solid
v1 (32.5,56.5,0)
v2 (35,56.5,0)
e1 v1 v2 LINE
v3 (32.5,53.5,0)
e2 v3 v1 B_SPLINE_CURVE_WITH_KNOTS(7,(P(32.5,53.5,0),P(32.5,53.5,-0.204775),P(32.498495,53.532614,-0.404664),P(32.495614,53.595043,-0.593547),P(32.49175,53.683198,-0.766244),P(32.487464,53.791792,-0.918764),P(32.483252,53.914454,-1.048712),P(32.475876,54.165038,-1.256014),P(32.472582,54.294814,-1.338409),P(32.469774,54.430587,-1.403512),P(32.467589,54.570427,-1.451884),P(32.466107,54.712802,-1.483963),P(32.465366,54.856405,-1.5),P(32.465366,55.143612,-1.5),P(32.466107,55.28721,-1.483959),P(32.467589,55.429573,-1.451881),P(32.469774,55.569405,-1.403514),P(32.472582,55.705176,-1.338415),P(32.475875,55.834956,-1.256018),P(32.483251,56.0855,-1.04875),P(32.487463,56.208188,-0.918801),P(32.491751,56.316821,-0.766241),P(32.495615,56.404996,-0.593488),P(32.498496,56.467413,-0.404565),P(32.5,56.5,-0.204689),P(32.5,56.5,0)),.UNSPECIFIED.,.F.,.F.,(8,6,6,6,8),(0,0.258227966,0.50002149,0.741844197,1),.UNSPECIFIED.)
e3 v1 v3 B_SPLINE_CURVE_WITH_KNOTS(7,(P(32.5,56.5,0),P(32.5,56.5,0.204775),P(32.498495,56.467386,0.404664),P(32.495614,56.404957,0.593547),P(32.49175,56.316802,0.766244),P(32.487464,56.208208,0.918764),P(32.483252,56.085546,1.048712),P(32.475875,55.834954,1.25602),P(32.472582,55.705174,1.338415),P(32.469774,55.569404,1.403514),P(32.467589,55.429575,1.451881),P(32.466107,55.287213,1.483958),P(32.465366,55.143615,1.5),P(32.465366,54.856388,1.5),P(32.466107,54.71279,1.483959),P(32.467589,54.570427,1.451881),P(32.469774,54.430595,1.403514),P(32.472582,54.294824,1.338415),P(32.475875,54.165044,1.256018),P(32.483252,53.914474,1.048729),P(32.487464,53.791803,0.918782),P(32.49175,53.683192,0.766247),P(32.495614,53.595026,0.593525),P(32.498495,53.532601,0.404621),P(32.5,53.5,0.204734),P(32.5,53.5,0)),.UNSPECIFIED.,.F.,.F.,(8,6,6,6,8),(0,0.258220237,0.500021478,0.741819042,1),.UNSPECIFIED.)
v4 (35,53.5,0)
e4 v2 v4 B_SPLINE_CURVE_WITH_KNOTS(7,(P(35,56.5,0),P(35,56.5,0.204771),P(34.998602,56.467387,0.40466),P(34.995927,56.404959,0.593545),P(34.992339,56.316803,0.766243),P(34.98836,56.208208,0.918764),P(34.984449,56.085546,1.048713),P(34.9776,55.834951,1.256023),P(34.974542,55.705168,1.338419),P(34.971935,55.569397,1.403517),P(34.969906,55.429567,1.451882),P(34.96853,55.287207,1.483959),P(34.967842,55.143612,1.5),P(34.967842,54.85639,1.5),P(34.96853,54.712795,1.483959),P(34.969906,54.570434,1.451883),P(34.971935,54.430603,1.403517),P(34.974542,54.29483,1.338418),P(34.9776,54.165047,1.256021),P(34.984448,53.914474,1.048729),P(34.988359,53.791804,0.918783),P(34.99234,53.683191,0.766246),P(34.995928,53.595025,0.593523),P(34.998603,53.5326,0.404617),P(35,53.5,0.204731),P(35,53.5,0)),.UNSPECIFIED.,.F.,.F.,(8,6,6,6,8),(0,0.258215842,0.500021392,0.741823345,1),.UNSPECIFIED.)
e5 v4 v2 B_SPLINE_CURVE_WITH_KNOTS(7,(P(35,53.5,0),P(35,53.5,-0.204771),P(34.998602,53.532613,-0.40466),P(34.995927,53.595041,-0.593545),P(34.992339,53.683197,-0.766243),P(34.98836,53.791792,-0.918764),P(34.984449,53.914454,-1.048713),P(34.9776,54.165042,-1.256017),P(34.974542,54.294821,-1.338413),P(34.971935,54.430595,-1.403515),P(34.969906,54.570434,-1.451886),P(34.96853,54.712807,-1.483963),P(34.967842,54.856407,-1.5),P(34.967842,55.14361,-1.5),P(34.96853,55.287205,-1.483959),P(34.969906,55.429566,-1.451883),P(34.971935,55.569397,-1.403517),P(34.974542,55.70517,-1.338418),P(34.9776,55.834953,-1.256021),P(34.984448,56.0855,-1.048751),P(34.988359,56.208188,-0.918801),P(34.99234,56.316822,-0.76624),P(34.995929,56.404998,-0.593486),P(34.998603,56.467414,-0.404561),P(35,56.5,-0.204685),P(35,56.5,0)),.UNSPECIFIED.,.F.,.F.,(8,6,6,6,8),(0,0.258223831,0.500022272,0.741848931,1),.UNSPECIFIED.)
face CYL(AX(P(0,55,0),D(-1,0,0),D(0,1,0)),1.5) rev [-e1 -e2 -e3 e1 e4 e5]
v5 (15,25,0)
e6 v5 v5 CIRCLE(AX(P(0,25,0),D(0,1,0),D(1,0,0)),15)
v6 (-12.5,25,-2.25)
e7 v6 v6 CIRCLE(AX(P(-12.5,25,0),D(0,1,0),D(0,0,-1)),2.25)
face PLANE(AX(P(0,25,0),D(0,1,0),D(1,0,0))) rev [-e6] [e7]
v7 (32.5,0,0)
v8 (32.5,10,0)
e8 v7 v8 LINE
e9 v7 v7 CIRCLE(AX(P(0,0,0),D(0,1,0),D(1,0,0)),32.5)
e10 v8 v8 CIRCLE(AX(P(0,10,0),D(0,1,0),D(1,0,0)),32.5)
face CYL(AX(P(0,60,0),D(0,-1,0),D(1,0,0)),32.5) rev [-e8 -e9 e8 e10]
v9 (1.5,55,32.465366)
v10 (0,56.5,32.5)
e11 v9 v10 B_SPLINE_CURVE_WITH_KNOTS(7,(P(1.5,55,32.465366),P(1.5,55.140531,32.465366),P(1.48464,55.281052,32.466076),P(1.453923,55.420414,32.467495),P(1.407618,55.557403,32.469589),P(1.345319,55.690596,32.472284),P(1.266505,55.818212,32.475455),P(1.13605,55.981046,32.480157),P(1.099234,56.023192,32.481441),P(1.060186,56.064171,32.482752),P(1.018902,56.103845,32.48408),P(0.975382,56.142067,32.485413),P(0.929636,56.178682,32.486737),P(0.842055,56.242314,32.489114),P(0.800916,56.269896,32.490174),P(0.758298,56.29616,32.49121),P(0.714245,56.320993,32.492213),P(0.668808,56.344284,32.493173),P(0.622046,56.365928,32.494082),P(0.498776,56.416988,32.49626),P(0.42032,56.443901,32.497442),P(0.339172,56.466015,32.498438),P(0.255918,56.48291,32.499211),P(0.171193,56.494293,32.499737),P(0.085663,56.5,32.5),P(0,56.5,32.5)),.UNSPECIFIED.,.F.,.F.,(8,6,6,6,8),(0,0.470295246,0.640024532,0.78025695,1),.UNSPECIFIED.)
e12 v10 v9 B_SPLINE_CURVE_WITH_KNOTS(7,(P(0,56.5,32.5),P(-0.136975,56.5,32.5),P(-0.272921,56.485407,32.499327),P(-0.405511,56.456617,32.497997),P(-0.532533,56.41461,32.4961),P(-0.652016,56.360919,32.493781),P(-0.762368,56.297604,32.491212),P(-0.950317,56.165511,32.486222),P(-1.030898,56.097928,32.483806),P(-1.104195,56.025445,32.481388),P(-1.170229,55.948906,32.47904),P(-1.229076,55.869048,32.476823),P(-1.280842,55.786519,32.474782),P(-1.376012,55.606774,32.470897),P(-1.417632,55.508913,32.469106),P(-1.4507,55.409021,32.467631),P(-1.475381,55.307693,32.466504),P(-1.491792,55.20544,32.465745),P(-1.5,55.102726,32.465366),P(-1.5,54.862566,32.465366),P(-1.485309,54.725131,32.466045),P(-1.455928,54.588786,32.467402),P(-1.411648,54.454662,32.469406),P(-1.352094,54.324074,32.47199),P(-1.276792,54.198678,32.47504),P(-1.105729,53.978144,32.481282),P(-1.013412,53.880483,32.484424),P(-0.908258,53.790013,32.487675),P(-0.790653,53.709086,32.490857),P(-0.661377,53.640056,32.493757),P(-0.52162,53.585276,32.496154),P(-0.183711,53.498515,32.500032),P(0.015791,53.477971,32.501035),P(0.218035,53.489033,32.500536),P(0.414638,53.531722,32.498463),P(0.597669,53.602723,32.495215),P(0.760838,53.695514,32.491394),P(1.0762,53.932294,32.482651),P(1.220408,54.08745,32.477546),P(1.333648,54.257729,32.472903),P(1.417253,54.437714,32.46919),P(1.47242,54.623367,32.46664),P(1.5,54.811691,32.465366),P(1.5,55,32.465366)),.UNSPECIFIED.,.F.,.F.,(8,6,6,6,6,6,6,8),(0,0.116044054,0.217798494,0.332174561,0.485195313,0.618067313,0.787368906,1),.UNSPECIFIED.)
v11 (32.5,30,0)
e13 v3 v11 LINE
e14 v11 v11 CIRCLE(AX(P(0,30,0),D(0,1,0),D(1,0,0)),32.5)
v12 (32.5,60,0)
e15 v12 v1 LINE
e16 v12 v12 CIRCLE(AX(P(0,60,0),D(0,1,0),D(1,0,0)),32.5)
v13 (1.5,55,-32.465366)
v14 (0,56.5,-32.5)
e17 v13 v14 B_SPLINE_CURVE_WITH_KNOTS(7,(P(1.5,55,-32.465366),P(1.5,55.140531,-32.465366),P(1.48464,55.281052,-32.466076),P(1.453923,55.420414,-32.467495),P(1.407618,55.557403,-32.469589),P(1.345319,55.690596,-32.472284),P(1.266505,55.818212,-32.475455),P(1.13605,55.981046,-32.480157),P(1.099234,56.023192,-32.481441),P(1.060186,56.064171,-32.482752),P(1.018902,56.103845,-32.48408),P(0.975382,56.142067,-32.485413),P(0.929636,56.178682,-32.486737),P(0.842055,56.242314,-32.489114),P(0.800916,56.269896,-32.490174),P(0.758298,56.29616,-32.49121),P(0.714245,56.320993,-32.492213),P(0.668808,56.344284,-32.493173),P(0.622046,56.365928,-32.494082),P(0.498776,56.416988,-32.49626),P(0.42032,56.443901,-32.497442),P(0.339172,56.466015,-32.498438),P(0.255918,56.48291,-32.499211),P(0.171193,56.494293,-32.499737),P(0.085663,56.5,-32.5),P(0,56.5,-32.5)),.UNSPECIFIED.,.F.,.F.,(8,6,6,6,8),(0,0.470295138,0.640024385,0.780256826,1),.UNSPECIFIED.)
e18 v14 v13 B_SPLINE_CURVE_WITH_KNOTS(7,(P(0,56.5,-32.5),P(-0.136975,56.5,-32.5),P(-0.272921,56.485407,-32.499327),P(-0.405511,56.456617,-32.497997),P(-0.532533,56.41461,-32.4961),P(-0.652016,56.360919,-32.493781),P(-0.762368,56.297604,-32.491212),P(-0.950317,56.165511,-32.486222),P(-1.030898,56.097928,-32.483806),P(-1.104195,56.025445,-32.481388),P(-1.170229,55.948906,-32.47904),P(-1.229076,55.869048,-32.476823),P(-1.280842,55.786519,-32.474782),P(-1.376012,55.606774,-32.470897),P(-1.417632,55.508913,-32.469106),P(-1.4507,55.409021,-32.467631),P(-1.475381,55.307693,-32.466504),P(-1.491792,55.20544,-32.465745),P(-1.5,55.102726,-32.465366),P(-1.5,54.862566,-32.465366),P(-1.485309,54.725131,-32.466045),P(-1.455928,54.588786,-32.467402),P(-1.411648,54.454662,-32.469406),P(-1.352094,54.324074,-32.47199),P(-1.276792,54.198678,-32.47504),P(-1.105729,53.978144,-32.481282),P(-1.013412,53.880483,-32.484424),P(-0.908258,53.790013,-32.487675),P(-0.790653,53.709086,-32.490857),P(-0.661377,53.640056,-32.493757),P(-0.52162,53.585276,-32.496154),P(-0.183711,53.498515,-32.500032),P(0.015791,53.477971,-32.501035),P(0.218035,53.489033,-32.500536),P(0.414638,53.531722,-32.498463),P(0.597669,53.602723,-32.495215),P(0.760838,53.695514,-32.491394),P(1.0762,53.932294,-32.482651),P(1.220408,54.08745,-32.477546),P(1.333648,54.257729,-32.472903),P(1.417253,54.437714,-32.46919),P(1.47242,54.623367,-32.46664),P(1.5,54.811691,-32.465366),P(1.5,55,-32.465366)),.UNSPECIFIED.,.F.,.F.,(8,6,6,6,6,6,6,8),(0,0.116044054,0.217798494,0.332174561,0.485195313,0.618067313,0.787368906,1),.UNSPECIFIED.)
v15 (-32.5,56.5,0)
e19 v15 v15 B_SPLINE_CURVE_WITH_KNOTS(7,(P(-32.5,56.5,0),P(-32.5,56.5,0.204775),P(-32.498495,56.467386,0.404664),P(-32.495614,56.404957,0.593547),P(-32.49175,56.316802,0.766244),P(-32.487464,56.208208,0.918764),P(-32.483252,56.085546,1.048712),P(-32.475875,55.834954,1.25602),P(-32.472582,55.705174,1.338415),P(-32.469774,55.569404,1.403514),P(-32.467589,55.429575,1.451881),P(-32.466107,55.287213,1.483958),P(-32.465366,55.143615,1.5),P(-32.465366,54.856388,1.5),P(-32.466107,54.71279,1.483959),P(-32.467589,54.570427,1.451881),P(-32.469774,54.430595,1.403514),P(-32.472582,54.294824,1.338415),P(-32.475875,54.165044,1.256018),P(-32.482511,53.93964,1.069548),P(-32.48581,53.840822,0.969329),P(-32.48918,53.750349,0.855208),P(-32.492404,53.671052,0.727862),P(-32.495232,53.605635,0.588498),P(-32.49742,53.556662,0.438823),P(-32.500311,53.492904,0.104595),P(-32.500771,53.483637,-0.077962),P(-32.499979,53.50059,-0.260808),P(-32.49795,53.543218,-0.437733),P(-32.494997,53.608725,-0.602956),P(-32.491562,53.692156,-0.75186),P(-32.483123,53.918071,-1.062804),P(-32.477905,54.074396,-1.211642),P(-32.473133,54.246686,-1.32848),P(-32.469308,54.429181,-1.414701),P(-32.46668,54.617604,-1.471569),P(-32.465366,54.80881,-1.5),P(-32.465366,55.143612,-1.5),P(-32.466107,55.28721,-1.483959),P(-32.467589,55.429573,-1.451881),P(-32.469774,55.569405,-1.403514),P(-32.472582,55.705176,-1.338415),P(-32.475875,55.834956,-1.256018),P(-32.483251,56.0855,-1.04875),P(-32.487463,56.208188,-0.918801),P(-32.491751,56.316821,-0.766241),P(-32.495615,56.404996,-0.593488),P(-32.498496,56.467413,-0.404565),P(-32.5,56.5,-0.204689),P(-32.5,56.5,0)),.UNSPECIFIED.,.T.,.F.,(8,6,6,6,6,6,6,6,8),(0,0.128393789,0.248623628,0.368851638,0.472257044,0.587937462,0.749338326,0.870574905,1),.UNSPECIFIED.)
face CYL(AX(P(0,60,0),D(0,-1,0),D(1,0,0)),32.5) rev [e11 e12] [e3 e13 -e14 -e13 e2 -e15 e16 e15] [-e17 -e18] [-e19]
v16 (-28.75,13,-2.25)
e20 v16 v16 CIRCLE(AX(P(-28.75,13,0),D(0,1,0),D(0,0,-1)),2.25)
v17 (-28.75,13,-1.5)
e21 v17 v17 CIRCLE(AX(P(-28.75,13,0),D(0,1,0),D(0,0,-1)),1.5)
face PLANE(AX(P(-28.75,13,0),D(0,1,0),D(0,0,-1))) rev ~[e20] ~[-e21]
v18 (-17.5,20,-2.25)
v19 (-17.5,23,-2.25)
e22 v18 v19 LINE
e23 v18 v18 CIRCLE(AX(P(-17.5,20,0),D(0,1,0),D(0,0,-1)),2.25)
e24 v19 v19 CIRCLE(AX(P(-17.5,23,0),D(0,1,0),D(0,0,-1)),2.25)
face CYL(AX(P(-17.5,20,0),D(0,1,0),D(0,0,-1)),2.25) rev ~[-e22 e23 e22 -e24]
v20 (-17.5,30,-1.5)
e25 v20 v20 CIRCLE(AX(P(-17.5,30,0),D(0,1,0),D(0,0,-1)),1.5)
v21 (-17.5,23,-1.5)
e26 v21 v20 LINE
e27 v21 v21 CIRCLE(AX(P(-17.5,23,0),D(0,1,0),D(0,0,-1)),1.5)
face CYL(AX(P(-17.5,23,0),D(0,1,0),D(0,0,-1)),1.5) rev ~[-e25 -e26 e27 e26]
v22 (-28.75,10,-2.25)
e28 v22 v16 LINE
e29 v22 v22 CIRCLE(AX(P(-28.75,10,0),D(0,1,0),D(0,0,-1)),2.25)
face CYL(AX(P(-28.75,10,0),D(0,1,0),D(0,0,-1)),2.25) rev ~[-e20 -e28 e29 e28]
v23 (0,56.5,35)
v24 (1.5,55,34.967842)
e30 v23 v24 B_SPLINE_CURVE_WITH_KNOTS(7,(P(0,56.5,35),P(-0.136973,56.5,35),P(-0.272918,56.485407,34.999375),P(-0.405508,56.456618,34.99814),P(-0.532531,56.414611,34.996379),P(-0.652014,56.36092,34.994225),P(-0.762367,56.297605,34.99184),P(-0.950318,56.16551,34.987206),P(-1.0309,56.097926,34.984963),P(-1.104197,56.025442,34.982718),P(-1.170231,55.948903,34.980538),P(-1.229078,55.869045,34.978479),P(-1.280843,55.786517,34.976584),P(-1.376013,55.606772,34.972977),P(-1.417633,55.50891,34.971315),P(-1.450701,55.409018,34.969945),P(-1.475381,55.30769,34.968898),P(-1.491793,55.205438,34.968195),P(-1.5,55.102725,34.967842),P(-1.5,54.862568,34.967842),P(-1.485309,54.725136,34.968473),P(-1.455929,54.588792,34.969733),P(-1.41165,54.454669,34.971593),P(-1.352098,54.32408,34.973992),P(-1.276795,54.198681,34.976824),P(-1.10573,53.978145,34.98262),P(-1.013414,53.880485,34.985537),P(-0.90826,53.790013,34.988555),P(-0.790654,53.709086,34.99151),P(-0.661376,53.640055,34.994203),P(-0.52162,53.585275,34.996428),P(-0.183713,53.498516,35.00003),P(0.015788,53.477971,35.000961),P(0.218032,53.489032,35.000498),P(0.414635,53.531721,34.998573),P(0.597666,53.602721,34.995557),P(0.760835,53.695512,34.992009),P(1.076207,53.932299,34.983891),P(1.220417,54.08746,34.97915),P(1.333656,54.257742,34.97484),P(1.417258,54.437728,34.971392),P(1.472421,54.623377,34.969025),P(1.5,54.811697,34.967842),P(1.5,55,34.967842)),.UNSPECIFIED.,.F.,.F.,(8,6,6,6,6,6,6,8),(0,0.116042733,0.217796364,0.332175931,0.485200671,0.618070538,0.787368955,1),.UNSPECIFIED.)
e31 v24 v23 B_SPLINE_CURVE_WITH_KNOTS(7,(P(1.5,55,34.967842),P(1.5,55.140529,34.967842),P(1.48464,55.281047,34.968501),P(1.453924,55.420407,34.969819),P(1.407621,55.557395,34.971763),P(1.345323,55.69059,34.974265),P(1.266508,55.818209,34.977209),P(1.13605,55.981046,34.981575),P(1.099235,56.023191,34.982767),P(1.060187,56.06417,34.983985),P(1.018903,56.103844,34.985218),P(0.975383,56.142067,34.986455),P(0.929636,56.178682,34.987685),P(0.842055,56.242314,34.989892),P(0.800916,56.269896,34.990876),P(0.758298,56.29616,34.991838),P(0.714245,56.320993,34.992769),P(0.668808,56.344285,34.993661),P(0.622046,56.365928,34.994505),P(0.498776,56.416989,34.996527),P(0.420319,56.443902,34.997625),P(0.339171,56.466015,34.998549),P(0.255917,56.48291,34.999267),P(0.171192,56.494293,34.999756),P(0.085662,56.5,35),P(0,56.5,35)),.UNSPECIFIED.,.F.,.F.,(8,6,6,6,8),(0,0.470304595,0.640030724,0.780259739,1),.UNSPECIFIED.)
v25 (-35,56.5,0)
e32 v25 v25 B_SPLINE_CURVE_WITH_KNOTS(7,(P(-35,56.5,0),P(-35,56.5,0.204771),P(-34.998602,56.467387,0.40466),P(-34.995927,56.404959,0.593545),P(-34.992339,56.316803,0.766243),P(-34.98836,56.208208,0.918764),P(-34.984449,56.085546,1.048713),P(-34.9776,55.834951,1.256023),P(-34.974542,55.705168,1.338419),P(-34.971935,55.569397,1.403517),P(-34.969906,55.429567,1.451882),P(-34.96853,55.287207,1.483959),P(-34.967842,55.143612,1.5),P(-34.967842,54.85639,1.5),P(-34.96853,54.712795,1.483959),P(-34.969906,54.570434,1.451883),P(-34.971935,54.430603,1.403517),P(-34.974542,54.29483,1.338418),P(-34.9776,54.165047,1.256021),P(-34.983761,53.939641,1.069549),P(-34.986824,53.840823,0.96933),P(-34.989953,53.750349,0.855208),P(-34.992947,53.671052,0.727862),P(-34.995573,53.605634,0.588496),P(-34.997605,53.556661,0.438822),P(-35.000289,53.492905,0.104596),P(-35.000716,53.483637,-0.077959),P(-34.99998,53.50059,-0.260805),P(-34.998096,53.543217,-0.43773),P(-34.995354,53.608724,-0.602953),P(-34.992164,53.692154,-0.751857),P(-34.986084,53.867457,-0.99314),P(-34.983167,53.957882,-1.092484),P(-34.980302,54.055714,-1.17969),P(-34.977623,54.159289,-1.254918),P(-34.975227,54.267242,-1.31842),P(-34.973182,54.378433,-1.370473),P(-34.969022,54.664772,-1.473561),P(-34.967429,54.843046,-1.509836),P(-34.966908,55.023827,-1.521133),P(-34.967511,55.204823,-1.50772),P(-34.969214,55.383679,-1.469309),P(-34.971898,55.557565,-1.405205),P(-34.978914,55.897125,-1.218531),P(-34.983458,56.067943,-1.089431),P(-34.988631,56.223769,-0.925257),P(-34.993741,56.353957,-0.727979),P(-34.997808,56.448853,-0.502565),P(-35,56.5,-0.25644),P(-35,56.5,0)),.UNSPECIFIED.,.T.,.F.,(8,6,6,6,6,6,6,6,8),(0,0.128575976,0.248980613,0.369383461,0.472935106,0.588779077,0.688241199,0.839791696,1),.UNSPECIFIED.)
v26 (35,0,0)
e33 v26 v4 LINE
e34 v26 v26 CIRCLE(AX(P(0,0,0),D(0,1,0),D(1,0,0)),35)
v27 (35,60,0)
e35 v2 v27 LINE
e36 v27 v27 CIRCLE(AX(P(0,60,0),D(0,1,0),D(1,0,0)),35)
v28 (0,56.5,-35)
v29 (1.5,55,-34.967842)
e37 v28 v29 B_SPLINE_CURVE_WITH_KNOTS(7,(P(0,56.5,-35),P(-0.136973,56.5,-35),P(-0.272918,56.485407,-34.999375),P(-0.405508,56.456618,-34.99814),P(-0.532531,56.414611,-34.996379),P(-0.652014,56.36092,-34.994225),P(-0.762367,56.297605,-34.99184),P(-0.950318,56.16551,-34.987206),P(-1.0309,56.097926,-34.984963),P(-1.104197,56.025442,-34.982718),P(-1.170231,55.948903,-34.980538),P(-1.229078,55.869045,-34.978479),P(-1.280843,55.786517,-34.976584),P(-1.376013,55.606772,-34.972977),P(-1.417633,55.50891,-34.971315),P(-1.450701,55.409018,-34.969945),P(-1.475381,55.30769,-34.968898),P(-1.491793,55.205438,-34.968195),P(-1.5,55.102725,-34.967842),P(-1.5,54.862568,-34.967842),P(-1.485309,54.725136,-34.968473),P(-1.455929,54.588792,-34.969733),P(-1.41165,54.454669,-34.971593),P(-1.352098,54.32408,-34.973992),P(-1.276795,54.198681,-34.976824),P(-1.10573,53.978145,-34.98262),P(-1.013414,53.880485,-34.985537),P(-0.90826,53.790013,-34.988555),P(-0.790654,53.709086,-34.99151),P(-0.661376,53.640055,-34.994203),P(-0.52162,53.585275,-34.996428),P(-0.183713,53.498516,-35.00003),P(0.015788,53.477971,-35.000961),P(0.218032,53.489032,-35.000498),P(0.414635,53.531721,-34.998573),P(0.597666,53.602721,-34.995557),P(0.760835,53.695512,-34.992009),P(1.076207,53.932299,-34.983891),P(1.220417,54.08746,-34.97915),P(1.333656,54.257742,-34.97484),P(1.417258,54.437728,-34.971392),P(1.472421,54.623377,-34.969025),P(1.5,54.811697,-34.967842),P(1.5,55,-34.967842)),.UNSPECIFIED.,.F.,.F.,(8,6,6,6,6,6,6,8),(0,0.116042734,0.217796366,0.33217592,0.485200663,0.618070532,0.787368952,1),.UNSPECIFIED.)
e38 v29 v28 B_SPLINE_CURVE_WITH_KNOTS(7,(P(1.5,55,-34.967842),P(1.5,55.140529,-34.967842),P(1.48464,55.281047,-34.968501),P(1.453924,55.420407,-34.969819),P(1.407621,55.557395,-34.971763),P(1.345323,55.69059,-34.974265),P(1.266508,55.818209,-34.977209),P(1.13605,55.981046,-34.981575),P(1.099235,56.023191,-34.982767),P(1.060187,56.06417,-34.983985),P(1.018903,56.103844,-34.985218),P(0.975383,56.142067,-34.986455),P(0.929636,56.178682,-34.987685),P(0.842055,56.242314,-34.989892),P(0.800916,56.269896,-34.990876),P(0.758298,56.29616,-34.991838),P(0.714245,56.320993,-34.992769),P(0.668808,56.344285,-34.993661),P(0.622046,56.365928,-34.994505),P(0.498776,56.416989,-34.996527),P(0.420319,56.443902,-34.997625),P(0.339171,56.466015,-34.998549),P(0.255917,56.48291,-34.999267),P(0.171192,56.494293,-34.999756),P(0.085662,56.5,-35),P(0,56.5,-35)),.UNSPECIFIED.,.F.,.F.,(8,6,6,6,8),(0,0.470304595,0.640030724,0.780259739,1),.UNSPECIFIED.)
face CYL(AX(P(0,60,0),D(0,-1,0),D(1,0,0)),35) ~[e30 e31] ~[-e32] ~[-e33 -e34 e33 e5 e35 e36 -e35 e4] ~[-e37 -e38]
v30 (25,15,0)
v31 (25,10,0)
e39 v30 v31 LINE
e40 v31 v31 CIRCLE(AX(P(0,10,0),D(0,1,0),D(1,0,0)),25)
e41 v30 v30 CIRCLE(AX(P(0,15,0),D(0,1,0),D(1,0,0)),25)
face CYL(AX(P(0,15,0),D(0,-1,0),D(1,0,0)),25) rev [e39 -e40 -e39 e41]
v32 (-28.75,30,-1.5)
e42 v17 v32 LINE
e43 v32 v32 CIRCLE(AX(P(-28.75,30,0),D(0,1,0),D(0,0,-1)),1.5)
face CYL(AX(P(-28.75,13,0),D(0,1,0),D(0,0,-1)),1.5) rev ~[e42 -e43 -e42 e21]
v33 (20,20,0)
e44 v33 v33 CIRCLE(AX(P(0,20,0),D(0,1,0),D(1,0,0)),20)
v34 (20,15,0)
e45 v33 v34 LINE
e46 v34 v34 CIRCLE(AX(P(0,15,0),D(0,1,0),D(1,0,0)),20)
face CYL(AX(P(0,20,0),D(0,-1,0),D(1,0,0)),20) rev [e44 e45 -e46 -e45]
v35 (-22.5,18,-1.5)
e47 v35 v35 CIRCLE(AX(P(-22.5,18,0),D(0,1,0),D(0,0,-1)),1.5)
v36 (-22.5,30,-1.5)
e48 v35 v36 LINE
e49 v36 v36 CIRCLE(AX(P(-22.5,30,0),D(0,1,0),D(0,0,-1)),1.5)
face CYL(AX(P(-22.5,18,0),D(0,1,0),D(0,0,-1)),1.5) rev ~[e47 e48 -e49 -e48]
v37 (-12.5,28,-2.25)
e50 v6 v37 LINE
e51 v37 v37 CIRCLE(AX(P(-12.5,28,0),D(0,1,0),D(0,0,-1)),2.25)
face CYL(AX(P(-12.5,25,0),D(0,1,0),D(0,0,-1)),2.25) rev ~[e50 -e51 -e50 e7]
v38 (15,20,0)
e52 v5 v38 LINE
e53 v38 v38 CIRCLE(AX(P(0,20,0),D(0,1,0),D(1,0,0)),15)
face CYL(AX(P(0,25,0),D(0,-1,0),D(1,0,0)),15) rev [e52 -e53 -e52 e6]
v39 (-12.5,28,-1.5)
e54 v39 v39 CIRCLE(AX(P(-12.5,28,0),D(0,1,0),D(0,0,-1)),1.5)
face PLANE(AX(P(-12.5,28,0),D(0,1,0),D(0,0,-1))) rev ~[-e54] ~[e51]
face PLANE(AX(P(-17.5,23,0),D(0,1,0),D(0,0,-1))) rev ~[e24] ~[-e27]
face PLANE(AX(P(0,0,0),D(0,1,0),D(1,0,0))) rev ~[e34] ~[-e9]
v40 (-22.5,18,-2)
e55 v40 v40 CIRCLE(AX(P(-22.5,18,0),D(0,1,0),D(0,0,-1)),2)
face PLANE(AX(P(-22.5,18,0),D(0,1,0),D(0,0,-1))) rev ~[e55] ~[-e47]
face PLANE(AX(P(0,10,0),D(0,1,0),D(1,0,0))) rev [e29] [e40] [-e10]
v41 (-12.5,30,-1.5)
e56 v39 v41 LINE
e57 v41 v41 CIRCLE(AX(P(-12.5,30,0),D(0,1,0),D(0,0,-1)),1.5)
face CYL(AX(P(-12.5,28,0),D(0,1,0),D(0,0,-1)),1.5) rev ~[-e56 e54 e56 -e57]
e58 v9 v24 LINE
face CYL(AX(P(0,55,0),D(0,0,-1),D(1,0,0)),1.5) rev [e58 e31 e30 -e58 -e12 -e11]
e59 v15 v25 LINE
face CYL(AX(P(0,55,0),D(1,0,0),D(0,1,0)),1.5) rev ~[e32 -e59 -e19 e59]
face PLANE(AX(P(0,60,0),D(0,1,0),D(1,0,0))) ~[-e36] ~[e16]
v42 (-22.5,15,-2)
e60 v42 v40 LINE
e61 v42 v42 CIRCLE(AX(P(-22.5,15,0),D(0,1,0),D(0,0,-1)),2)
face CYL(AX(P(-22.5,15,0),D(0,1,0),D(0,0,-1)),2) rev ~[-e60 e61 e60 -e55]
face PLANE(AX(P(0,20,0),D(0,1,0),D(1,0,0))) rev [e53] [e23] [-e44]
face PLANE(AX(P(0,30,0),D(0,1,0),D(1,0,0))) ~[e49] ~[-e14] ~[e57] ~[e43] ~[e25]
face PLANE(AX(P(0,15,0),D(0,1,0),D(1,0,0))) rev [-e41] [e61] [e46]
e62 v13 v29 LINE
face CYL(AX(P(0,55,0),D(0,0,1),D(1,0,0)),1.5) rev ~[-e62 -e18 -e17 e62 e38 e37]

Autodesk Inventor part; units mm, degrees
ref_plane "YZ Plane" through (0, 0, 0) normal (1, 0, 0) x (0, 1, 0)
ref_plane "XZ Plane" through (0, 0, 0) normal (0, 1, 0) x (-1, 0, 0)
ref_plane "XY Plane" through (0, 0, 0) normal (0, 0, 1) x (1, 0, 0)
sketch "Sketch1" plane through (0, 0, 0) normal (0, 0, 1) x (1, 0, 0)
  line L0 (0, 0) -> (0, 25)
  line L1 (0, 60) -> (35, 60)
  line L2 (35, 60) -> (35, 0)
  line L3 (35, 0) -> (30, 0)
  line L4 (35, 0) -> (0, 35)
  line L5 (35, 0) -> (30, 0)
  line L6 (30, 0) -> (30, 5)
  line L7 (30, 5) -> (32.5, 5)
  line L8 (35, 5) -> (35, 0)
  line L9 (30, 5) -> (25, 5)
  line L10 (25, 5) -> (25, 10)
  line L11 (25, 10) -> (30, 10)
  line L12 (30, 10) -> (30, 5)
  line L13 (25, 10) -> (20, 10)
  line L14 (20, 10) -> (20, 15)
  line L15 (20, 15) -> (25, 15)
  line L16 (25, 15) -> (25, 10)
  line L17 (20, 15) -> (15, 15)
  line L18 (15, 15) -> (15, 20)
  line L19 (15, 20) -> (20, 20)
  line L20 (20, 20) -> (20, 15)
  line L21 (15, 20) -> (10, 20)
  line L22 (10, 20) -> (10, 25)
  line L23 (10, 25) -> (15, 25)
  line L24 (15, 25) -> (15, 20)
  line L25 (10, 25) -> (0, 25)
  line L26 (0, 25) -> (0, 60)
  line L27 (30, 0) -> (0, 0)
  line L28 (32.5, 60) -> (32.5, 0)
  line L29 (32.5, 5) -> (35, 5)
  line L30 (27.5, 10) -> (32.5, 10)
  line L31 (0, 30) -> (10, 30)
  line L32 (10, 30) -> (32.5, 30)
  point P0 (5, 30)
  point P1 (32.5, 0)
  dimension "d0" = 60
  dimension "d1" = 35
  dimension "d2" = 45
  dimension "d3" = 5
  dimension "d4" = 5
  dimension "d5" = 5
  dimension "d6" = 5
  dimension "d7" = 5
  dimension "d8" = 2.5
  dimension "d9" = 5
revolve "Revolution1" add sketch "Sketch1" angle 360 about axis through (0, 25, 0) along (0, 1, 0) contours L26 L31 L4 L25 | L4 L31 L32 L28 L30 L11 L16 L15 L20 L19 L24 L23 | L28 L4 L3 | L4 L28 L29 L2 | L28 L1 L2 L29
sketch "Sketch4" plane through (0, 10, 0) normal (0, -1, 0) x (1, 0, 0)
  circle A0 centre (0, 0) radius 32.5 projected
  circle A1 centre (0, 0) radius 25 projected
  line L0 (-32.5, 0) -> (-25, 0)
  point P0 (-28.75, 0)
sketch "Sketch5" plane through (0, 15, 0) normal (0, -1, 0) x (1, 0, 0)
  circle A0 centre (0, 0) radius 25 projected
  circle A1 centre (0, 0) radius 20 projected
  line L0 (-25, 0) -> (-20, 0)
  point P0 (-22.5, 0)
sketch "Sketch6" plane through (0, 20, 0) normal (0, -1, 0) x (1, 0, 0)
  circle A0 centre (0, 0) radius 20 projected
  circle A1 centre (0, 0) radius 15 projected
  line L0 (-20, 0) -> (-15, 0)
  point P0 (-17.5, 0)
sketch "Sketch7" plane through (0, 25, 0) normal (0, -1, 0) x (1, 0, 0)
  circle A0 centre (0, 0) radius 15 projected
  line L0 (-15, 0) -> (-12.5, 0)
  dimension "d19" = 2.5
hole "Hole2" at (-28.75, 10, 0) direction (0, 1, 0) diameter 3 end through all counterbore diameter 4.5 counterbore depth 3
hole "Hole3" at (-22.5, 15, 0) direction (0, 1, 0) diameter 3 end through all counterbore diameter 4 counterbore depth 3
hole "Hole4" at (-17.5, 20, 0) direction (0, 1, 0) diameter 3 end through all counterbore diameter 4.5 counterbore depth 3
hole "Hole5" at (-12.5, 25, 0) direction (0, 1, 0) diameter 3 end through all counterbore diameter 4.5 counterbore depth 3
sketch "Sketch8" plane through (0, 0, 0) normal (0, 0, 1) x (1, 0, 0)
  line L0 (35, 60) -> (-35, 60) projected
  line L1 (35, 0) -> (-35, 0) projected
  line L2 (32.5, 60) -> (-32.5, 60) projected
  line L3 (0, 60) -> (0, 55)
  circle A0 centre (0, 55) radius 1.5
  point P0 (0, 0)
  dimension "d48" = 5
  dimension "d49" = 3
extrude "Extrusion1" cut sketch "Sketch8" along normal through all both and the other way through all
sketch "Sketch9" plane through (0, 0, 0) normal (1, 0, 0) x (0, 1, 0)
  line L0 (60, -35) -> (60, 35) projected
  line L1 (0, -35) -> (0, 35) projected
  line L2 (60, 0) -> (55, 0)
  circle A0 centre (55, 0) radius 1.5
  point P0 (0, 0)
  point P1 (55, 34.9678)
  point P2 (55, -34.9678)
  dimension "d52" = 5
  dimension "d53" = 3
extrude "Extrusion2" cut sketch "Sketch9" along normal through all both and the other way through all
properties part number "Grundkörper"
